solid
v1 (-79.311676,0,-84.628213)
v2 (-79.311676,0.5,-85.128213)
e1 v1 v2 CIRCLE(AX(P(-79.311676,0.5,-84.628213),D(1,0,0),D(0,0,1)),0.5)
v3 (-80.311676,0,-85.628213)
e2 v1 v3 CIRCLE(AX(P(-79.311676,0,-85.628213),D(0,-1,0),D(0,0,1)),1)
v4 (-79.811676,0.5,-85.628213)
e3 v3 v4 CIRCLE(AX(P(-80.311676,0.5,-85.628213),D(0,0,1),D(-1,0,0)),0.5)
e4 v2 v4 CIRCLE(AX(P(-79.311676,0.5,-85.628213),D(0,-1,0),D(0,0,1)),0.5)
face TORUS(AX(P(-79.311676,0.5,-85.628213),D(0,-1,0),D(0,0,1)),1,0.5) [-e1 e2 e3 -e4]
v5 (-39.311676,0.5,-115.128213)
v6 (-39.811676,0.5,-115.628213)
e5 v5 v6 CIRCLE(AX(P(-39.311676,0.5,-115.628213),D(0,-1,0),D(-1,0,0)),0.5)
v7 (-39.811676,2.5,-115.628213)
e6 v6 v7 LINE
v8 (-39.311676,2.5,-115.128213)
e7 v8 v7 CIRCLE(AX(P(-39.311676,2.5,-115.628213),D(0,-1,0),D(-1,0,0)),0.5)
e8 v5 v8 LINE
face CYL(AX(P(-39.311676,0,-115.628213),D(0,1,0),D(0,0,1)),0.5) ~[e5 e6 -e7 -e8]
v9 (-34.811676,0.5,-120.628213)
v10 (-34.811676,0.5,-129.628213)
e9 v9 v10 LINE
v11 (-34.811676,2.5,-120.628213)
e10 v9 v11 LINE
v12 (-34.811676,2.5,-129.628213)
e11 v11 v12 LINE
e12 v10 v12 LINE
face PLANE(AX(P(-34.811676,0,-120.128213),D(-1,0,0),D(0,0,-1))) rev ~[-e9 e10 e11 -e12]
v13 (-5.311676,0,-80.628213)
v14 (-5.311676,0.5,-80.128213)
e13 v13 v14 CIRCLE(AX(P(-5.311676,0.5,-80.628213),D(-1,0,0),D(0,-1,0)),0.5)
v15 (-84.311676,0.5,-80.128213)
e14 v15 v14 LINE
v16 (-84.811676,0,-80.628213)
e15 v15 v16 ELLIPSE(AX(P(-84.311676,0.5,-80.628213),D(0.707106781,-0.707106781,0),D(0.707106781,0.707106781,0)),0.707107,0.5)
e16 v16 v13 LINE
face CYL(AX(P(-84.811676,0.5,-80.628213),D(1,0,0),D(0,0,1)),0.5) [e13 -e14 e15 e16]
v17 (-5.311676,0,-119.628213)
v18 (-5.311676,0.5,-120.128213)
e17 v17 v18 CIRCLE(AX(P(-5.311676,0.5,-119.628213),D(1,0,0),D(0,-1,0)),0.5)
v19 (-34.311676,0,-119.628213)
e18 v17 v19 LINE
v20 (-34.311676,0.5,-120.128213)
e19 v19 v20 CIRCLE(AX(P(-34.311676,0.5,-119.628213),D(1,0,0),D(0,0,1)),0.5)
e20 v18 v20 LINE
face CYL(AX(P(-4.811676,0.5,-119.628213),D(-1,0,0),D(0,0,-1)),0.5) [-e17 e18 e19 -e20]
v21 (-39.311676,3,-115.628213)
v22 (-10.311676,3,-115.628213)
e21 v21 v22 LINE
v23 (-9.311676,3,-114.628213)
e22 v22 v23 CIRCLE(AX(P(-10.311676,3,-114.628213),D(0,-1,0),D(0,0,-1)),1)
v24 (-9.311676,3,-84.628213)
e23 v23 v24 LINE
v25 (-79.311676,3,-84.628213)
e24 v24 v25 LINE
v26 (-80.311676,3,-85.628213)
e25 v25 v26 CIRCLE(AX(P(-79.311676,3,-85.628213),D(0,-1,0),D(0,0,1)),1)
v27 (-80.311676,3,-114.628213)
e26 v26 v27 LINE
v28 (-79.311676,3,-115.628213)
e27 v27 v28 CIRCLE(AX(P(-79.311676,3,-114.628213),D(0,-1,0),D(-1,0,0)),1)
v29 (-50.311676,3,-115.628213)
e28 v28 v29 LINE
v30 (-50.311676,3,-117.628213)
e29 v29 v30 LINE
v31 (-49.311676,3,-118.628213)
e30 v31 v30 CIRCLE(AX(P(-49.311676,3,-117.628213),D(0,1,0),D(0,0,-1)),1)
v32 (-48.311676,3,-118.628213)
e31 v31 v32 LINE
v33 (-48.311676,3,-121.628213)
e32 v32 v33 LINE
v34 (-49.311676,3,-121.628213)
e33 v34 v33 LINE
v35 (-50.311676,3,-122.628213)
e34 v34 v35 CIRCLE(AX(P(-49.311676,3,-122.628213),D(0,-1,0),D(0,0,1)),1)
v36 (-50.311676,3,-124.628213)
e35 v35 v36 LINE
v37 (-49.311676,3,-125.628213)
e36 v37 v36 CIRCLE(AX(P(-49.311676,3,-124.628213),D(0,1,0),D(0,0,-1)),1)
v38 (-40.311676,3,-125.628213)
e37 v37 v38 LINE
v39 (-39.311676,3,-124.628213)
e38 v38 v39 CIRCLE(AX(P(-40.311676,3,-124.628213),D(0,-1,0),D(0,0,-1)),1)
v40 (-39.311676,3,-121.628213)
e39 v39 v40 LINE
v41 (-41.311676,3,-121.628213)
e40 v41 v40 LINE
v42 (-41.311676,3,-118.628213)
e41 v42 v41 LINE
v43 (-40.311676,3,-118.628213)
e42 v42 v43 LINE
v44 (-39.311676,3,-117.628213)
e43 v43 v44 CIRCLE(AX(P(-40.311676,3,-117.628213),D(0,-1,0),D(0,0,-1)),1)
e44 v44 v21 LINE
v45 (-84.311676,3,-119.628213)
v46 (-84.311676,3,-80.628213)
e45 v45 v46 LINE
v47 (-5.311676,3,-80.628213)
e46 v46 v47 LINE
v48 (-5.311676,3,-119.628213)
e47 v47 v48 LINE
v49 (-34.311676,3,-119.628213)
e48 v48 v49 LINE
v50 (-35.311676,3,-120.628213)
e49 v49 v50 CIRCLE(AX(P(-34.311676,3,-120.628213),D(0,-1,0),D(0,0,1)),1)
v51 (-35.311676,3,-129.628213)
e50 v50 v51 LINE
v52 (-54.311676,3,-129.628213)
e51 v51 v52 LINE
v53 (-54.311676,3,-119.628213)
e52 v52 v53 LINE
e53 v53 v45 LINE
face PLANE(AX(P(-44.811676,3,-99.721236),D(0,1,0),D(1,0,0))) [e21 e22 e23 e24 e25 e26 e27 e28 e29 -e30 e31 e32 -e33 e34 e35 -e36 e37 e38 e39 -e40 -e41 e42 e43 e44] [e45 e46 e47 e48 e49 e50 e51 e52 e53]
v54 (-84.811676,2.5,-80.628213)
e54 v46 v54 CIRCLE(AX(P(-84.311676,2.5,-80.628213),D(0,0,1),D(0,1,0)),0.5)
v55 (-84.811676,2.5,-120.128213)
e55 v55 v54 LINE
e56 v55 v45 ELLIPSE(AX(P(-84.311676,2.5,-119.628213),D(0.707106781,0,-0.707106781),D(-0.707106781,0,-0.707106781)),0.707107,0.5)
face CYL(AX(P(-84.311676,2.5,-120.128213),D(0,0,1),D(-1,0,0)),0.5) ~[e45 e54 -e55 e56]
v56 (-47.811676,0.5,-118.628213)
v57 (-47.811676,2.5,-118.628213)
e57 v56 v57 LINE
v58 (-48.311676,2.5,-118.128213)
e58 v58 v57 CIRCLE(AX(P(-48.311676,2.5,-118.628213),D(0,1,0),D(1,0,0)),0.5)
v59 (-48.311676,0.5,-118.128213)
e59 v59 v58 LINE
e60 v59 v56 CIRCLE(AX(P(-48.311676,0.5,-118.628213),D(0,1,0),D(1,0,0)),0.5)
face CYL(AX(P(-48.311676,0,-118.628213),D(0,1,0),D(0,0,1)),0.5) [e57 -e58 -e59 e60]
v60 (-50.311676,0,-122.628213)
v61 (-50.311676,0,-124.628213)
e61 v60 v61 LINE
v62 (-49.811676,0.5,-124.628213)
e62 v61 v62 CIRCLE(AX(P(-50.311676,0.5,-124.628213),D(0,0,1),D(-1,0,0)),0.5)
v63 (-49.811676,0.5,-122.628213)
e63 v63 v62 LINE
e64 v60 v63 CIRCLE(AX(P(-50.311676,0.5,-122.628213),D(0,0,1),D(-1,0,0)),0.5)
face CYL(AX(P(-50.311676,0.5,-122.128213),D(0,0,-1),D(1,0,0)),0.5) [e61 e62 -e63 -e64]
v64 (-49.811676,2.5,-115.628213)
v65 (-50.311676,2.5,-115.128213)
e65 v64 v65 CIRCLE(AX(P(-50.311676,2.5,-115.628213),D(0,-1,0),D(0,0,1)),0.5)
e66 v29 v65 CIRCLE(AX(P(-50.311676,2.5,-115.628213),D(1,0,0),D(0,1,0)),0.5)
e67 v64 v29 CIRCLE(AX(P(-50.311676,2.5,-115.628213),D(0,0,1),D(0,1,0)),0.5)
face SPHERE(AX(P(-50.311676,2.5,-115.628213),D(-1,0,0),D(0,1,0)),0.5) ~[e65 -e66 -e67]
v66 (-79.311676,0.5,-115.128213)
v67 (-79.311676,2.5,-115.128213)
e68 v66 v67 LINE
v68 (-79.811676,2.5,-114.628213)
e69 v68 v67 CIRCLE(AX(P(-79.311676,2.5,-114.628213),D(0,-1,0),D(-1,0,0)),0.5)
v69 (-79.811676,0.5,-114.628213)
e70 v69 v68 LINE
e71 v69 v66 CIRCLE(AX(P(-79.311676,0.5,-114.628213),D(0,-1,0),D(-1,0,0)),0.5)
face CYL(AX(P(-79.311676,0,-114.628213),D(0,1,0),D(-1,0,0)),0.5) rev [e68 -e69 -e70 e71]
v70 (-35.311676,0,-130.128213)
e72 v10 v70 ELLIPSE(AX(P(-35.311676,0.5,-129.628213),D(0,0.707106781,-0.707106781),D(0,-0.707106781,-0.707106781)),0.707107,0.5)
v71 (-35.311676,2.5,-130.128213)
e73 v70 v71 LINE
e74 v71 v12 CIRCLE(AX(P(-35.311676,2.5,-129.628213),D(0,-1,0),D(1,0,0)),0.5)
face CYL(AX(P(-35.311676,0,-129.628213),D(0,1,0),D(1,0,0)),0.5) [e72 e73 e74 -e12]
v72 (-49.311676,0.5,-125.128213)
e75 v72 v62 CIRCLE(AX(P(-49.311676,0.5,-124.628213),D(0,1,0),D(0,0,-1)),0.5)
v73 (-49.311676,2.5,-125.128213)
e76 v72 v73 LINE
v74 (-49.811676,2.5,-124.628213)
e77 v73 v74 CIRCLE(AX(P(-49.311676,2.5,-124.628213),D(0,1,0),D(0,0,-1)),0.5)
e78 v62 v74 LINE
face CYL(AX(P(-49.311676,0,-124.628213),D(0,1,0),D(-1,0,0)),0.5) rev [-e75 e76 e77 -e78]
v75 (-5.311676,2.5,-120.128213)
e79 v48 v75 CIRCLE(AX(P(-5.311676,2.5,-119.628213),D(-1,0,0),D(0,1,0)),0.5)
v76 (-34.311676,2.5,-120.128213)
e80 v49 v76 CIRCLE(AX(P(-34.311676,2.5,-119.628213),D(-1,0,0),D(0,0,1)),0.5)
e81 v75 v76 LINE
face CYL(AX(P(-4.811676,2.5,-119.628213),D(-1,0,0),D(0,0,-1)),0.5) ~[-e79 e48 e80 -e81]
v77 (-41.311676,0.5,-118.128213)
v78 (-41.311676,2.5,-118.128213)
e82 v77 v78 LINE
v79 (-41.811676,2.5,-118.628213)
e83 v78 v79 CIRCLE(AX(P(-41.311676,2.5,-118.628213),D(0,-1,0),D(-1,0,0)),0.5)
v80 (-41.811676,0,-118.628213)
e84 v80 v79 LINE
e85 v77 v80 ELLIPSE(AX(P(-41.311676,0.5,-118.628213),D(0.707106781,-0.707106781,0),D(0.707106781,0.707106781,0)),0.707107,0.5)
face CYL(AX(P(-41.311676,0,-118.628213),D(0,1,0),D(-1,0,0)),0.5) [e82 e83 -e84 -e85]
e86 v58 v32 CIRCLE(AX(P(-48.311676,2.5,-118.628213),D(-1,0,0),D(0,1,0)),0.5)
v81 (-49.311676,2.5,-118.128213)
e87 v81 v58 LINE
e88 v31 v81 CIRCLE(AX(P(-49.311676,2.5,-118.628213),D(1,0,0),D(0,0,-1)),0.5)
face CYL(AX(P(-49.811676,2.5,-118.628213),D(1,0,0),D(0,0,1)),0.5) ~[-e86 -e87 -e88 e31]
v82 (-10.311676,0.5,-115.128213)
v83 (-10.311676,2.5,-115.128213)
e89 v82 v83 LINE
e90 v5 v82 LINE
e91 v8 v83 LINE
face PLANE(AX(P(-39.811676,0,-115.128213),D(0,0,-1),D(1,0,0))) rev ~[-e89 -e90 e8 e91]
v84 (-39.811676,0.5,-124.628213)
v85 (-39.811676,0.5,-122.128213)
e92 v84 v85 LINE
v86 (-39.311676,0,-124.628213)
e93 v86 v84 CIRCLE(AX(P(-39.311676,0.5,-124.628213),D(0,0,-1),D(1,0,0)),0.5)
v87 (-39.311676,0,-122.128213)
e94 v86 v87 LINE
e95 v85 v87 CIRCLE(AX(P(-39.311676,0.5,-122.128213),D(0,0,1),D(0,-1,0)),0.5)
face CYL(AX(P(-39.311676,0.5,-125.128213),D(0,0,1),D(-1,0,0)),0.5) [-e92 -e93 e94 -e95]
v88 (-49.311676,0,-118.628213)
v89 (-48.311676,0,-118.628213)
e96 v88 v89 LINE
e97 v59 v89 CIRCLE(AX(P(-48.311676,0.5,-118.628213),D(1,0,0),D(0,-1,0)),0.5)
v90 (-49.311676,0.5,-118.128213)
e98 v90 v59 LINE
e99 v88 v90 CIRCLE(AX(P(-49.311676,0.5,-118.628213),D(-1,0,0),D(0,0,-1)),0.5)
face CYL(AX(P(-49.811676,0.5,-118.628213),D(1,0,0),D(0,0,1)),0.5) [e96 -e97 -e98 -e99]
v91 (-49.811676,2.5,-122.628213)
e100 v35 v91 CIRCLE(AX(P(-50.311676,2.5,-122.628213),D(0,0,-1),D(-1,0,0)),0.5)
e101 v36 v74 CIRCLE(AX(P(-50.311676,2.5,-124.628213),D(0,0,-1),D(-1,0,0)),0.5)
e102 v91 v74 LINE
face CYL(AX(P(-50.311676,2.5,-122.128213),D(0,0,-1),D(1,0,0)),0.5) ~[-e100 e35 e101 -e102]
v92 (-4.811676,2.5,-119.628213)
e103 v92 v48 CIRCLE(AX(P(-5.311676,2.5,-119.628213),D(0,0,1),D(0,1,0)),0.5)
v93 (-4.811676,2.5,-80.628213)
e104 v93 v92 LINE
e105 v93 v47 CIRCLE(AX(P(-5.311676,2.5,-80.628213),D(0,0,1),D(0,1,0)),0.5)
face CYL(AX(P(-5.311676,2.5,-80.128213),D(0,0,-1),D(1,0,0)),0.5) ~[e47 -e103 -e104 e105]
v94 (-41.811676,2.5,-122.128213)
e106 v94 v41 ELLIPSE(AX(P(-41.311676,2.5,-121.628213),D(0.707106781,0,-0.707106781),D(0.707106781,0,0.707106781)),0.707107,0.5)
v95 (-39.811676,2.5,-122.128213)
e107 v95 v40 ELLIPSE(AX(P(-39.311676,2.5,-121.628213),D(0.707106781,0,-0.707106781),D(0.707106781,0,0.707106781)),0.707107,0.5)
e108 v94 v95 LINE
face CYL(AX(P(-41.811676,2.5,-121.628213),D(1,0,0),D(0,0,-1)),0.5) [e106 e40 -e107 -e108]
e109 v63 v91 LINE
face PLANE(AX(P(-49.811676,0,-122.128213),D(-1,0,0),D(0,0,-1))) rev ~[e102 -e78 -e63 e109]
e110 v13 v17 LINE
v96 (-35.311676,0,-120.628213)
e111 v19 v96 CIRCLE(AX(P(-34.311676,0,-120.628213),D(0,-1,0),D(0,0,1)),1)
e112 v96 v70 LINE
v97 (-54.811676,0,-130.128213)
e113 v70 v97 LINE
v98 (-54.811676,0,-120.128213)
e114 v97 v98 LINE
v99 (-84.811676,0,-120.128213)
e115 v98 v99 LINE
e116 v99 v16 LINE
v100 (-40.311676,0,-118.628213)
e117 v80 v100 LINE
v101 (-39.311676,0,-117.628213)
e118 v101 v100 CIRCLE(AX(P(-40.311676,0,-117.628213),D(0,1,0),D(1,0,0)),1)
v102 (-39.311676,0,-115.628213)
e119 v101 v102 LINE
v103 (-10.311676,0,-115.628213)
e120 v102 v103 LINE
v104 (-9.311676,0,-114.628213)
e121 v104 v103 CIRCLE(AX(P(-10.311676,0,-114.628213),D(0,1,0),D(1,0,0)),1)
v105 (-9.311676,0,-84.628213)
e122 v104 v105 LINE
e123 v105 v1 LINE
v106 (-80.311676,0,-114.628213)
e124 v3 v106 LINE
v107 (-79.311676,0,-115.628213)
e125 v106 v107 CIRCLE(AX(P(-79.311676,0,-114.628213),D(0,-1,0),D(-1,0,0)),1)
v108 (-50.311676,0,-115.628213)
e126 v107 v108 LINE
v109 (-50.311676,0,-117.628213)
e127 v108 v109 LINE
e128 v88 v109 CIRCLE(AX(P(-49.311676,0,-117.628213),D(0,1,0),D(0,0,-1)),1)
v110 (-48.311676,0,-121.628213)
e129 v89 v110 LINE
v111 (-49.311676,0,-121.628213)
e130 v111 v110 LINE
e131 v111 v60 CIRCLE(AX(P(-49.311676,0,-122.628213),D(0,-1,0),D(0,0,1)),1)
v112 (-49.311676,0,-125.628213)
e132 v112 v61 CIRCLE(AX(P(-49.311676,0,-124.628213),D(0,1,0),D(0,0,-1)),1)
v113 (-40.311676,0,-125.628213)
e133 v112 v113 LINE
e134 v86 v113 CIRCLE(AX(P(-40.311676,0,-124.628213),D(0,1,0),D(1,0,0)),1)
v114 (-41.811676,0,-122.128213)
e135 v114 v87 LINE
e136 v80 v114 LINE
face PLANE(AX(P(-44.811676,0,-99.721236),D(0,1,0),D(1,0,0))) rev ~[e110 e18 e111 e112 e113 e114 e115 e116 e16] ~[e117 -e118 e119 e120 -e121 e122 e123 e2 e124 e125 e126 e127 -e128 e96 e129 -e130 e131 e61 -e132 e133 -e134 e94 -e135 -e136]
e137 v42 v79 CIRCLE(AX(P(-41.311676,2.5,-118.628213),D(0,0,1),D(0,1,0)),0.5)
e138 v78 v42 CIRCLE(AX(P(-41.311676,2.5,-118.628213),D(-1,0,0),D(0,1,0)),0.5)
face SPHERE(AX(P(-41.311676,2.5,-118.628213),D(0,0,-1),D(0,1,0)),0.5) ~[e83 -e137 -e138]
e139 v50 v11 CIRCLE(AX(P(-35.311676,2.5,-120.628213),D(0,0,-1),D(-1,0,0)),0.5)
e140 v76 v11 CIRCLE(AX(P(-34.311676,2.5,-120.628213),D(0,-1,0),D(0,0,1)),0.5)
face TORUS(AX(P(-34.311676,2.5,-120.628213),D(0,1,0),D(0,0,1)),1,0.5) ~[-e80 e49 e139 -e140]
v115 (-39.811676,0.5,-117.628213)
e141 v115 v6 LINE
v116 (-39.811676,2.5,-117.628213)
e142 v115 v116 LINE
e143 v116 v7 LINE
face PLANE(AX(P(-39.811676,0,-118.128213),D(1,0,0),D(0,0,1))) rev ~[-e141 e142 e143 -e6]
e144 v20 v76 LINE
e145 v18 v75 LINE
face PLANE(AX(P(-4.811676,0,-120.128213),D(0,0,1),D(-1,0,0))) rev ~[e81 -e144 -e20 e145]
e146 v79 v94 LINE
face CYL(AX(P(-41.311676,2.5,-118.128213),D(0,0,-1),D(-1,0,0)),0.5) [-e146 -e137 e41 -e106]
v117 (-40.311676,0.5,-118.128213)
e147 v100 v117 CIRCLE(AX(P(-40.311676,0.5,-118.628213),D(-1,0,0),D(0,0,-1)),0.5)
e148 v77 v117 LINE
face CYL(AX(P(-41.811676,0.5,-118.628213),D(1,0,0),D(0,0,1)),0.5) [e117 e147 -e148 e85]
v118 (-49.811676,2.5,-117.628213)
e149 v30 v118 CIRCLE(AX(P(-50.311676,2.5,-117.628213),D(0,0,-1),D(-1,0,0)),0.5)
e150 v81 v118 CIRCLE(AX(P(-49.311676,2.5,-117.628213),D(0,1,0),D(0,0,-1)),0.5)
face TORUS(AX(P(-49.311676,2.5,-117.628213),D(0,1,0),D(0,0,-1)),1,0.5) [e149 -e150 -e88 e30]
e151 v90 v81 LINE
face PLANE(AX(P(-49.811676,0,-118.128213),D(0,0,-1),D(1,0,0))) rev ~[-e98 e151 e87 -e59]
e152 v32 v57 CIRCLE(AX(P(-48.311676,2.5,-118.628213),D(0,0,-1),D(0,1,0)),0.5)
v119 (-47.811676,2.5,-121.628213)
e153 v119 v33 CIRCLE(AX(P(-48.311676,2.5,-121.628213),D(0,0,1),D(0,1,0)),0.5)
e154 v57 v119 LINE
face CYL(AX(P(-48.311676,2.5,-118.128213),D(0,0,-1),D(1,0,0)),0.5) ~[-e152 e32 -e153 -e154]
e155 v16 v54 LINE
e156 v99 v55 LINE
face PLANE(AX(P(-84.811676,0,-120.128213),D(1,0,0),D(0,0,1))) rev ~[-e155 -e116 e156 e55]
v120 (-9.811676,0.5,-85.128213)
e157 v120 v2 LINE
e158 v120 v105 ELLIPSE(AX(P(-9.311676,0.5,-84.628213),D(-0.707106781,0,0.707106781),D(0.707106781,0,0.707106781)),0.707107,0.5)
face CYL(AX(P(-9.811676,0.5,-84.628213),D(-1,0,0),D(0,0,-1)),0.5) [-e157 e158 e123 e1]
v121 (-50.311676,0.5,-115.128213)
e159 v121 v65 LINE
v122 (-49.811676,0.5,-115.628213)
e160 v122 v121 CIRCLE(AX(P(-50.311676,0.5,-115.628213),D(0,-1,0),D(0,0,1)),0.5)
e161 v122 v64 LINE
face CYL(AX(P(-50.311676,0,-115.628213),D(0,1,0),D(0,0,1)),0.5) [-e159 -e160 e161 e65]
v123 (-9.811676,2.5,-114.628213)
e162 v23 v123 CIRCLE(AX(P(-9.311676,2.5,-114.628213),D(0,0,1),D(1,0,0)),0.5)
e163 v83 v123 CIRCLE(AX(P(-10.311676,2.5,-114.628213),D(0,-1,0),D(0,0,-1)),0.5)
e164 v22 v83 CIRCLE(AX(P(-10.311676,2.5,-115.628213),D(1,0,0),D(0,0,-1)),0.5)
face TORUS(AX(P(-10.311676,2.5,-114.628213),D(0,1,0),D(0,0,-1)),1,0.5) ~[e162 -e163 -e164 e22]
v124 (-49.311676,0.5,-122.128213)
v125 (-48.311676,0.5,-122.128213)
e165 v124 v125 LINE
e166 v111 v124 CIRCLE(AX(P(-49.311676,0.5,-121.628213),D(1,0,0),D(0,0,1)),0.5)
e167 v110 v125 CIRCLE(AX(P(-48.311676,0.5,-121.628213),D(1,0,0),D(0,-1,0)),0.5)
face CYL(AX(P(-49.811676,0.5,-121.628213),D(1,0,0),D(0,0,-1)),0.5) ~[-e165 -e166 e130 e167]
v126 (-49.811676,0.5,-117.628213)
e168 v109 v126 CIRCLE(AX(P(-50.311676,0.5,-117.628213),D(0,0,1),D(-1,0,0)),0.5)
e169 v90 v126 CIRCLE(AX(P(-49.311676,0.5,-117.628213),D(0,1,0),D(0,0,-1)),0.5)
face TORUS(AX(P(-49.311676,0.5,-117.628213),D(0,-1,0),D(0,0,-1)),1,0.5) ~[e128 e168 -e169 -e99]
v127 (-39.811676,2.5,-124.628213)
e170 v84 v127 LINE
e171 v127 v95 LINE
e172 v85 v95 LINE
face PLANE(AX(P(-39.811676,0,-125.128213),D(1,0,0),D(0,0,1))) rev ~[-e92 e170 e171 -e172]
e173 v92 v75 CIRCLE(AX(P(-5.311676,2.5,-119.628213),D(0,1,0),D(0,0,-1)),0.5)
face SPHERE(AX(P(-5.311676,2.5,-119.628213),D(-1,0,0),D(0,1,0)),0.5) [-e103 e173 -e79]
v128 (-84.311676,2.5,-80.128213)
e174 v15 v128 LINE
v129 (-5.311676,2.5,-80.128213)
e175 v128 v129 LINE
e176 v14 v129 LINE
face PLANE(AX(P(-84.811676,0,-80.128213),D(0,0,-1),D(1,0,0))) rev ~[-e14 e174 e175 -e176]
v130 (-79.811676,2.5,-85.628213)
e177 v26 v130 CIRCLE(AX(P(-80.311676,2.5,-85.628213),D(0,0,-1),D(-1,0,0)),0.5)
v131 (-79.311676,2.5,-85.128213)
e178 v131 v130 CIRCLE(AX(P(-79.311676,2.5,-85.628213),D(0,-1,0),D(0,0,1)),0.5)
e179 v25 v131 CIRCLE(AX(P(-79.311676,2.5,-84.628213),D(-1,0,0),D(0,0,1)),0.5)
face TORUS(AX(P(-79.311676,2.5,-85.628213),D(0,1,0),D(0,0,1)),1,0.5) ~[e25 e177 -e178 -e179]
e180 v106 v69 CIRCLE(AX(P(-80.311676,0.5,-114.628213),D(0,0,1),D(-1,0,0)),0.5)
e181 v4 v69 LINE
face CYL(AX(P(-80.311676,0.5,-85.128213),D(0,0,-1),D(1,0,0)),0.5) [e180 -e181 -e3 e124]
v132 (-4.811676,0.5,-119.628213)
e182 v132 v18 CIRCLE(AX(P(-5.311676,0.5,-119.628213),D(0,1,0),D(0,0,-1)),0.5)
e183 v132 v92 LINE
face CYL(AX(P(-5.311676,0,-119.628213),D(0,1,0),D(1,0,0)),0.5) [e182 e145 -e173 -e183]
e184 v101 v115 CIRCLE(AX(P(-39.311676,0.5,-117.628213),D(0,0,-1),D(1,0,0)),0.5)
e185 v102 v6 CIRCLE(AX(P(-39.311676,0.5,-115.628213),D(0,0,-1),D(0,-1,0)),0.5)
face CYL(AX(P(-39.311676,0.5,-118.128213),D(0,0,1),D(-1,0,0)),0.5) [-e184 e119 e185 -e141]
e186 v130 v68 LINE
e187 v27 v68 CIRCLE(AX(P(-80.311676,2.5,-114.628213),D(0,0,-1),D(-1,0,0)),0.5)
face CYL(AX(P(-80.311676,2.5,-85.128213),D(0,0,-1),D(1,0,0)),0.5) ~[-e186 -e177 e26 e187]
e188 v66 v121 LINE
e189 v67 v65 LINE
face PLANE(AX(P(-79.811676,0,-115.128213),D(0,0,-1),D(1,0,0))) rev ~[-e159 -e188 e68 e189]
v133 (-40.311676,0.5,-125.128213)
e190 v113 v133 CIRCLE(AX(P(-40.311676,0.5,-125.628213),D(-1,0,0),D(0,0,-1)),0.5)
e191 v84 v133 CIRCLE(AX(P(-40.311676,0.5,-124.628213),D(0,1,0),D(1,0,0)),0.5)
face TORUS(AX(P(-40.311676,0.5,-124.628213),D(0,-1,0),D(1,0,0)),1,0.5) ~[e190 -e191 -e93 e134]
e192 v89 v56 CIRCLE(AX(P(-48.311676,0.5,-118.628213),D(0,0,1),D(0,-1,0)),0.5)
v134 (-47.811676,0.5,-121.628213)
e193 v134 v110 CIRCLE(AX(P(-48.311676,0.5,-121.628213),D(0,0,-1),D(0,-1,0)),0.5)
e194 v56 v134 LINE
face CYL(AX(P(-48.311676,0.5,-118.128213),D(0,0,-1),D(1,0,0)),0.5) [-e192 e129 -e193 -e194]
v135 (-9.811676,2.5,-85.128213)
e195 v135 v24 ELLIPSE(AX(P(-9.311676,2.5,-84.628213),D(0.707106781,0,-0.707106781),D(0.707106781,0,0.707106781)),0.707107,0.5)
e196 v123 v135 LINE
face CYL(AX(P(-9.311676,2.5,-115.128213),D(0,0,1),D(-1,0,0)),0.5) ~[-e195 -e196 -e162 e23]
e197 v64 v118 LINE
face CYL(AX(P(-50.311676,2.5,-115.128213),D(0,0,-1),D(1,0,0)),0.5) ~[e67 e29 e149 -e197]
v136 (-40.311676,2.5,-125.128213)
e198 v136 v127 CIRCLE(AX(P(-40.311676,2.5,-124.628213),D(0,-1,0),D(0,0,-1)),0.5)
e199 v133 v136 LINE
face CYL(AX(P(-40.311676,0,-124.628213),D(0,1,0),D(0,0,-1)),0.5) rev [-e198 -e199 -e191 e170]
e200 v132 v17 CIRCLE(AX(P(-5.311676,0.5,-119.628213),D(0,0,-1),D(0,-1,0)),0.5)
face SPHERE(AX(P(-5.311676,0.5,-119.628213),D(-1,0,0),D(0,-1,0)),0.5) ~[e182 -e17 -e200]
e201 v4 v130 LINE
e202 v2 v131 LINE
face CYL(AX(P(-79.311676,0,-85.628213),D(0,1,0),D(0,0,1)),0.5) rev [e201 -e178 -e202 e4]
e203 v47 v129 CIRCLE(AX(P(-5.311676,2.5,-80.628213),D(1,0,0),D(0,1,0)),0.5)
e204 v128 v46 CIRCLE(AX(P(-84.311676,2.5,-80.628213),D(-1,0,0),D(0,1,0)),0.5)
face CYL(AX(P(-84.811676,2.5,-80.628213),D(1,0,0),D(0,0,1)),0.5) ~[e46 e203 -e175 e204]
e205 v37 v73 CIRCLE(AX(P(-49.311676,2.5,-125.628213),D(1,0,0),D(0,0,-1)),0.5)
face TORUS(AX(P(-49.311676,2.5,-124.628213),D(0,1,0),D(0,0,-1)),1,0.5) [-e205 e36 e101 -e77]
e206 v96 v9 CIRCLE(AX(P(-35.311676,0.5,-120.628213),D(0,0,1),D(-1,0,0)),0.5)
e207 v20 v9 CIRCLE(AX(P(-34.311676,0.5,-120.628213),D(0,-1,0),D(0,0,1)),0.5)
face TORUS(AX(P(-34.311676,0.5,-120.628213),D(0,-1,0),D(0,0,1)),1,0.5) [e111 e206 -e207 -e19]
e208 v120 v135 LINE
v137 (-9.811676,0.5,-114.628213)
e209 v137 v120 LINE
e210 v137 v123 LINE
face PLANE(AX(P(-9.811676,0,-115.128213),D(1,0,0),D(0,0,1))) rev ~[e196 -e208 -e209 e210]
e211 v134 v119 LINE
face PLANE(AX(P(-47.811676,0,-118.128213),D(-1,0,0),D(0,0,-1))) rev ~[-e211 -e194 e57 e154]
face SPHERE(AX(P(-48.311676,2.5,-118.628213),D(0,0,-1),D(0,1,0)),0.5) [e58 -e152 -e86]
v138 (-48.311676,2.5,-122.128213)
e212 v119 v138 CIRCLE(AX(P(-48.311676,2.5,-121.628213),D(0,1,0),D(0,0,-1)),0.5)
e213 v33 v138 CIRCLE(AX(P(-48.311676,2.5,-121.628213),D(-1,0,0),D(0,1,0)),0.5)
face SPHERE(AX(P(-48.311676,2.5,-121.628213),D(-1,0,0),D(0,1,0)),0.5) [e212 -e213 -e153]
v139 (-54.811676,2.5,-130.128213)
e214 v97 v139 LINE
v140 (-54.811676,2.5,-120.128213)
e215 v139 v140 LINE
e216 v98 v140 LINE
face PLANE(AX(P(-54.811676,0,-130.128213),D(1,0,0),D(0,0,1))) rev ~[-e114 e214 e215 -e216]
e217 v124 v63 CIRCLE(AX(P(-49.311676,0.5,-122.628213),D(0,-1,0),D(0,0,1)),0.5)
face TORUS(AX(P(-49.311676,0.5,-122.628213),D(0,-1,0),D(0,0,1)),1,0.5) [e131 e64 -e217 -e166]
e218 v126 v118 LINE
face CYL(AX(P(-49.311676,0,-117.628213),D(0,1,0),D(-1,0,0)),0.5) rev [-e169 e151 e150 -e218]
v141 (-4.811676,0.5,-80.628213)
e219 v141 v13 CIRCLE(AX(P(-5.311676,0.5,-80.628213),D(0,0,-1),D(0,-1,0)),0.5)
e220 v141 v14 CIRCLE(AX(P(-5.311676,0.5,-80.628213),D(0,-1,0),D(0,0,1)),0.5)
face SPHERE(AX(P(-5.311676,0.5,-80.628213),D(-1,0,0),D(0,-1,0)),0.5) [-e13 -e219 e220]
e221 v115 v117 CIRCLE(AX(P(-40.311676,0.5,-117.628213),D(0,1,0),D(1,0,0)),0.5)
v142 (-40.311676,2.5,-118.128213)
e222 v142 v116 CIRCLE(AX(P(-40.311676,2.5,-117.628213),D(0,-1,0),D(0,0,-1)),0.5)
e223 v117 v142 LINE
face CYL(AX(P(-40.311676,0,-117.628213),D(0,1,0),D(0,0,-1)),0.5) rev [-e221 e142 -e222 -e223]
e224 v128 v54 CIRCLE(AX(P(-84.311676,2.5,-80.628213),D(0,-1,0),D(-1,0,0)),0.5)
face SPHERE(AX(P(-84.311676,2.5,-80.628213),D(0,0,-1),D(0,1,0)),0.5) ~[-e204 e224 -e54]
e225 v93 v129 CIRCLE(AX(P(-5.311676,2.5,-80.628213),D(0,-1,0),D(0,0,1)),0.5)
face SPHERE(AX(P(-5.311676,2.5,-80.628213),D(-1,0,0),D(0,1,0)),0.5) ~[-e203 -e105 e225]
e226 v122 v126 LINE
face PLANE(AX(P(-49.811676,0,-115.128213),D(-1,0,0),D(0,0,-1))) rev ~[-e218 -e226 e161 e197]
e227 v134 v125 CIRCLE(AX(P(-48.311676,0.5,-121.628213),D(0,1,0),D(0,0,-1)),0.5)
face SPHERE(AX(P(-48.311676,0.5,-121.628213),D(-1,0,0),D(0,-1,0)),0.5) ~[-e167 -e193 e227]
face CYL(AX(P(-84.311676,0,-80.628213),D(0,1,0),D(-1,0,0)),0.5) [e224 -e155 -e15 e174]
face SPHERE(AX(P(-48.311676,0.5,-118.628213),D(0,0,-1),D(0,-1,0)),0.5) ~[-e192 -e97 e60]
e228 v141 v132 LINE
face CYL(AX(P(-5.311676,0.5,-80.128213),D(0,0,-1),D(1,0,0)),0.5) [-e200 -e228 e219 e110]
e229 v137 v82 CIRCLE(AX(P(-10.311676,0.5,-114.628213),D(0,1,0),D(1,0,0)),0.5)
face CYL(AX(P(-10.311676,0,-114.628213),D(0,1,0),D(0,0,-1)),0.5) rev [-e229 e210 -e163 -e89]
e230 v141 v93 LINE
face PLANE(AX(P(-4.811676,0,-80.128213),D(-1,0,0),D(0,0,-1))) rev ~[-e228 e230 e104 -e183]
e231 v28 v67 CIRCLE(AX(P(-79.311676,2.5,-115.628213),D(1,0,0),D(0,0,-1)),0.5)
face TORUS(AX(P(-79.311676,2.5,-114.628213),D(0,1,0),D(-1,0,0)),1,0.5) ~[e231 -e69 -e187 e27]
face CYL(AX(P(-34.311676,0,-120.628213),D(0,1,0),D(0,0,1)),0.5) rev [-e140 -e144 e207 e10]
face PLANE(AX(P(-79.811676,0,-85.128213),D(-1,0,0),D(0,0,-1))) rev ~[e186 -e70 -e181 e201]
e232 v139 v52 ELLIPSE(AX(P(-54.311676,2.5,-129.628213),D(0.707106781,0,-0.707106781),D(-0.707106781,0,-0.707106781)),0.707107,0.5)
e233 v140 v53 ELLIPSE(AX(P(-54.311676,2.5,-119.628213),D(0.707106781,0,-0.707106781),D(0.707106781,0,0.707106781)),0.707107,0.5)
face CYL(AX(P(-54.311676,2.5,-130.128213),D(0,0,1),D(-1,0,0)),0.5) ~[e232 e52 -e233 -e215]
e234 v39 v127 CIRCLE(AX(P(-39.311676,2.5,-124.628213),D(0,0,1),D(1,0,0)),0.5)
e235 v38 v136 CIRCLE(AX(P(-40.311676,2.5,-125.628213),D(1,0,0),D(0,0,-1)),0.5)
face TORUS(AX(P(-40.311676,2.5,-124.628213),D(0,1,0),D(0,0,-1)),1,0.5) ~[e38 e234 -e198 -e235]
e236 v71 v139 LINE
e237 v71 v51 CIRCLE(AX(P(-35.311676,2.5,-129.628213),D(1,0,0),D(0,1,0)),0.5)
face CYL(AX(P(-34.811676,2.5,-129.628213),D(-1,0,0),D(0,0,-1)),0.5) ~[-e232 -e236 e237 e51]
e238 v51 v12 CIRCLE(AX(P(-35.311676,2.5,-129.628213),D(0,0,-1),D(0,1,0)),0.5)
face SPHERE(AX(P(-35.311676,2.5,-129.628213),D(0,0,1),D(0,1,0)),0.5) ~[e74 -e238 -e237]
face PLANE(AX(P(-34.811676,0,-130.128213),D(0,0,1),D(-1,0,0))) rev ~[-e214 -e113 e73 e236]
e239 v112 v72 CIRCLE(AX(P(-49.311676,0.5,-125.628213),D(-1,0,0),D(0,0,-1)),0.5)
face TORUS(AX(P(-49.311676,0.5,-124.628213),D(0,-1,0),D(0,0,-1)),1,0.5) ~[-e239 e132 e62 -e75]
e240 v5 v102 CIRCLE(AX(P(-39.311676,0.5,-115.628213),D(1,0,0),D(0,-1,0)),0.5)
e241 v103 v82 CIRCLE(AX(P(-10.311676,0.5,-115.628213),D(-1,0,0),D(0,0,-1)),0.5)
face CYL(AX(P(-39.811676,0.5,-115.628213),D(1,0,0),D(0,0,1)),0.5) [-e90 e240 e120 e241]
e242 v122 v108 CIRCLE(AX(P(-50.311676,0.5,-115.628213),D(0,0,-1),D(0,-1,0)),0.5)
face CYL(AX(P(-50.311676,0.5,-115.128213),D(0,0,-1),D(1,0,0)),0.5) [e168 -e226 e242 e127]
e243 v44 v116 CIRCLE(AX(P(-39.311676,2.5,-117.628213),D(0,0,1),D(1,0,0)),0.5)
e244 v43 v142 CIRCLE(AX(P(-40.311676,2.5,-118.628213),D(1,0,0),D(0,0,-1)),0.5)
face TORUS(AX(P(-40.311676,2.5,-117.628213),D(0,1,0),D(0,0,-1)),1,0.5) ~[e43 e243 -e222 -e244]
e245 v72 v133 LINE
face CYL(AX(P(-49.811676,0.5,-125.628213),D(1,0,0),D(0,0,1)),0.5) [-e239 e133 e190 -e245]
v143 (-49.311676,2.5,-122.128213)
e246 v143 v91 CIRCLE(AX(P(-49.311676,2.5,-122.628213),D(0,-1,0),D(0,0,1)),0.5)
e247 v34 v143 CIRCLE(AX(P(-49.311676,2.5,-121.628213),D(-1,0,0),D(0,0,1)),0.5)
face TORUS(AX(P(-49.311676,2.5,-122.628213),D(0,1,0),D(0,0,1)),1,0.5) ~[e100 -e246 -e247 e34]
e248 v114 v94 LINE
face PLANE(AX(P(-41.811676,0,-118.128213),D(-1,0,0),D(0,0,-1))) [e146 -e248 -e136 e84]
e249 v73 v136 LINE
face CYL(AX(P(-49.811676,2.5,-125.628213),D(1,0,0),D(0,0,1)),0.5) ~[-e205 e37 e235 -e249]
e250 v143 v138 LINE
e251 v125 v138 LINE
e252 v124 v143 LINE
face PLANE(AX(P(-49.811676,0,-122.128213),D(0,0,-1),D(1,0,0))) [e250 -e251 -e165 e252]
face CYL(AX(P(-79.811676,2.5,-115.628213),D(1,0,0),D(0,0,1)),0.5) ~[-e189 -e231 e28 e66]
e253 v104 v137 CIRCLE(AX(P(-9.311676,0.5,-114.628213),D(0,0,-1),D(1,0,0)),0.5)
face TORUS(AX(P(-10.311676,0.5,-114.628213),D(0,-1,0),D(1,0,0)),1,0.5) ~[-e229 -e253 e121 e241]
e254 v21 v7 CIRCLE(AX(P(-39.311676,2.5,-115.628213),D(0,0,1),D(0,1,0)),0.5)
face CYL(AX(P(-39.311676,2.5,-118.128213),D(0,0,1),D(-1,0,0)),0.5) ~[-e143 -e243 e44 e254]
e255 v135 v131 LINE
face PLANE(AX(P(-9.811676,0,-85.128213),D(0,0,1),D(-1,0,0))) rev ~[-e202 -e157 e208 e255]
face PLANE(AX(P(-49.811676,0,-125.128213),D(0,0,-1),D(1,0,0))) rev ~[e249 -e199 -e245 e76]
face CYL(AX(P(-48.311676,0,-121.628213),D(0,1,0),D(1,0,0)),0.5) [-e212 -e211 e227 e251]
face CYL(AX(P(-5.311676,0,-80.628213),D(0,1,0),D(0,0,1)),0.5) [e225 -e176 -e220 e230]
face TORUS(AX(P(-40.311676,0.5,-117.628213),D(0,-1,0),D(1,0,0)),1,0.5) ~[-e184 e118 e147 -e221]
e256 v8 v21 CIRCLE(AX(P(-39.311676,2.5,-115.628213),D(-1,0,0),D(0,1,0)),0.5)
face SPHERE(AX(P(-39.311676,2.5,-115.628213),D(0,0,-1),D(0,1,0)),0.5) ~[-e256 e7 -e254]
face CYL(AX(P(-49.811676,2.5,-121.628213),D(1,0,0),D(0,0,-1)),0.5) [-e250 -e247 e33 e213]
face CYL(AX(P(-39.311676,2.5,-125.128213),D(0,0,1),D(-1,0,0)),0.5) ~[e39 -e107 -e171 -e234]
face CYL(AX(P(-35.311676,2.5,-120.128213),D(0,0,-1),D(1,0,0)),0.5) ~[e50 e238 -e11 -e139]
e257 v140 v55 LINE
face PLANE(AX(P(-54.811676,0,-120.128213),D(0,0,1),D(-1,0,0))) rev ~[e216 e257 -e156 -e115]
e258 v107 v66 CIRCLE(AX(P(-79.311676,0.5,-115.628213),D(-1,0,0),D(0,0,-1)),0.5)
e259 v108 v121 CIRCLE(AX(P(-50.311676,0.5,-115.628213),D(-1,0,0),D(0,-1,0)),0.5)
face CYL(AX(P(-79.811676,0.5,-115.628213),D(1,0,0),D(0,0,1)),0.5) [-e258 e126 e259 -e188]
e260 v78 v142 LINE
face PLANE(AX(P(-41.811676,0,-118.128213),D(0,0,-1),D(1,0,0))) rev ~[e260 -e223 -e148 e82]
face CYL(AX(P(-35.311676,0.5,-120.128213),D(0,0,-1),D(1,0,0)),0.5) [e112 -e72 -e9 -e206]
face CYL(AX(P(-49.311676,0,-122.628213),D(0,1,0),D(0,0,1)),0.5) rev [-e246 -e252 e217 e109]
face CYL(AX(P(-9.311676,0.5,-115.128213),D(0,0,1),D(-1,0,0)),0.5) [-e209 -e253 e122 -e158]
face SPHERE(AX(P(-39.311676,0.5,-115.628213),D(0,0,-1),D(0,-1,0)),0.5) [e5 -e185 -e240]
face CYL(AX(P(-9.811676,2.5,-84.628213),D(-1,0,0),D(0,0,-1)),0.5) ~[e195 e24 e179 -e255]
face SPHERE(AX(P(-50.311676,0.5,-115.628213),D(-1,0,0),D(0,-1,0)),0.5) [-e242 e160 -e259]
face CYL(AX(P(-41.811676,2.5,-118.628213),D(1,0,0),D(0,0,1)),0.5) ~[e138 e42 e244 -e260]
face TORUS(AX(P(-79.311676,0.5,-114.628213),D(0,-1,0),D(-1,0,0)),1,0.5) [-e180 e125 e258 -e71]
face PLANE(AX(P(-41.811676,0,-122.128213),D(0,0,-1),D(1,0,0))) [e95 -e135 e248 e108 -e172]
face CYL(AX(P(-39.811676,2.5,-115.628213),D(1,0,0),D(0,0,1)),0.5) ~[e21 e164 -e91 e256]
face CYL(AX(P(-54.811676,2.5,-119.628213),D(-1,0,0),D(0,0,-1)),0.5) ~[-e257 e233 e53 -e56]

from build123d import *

# Parameters (mm, degrees)
SKETCH1_W           = 2
SKETCH1_H           = 4
BOSS_EXTRUDE1_DEPTH = 3
FILLET1_R           = 0.5


with BuildPart() as part:
    # Sketch1 → Boss-Extrude1 (new body)
    with BuildSketch(Plane(origin=(0, 0, 0), x_dir=(1, 0, 0), z_dir=(0, 1, 0))):
        Polygon((-54.811676083, 120.128212813), (-84.811676083, 120.128212813), (-84.811676083, 80.128212813), (-4.811676083, 80.128212813), (-4.811676083, 120.128212813), (-34.811676083, 120.128212813), (-39.811676083, 120.128212813), (-39.811676083, 118.128212813), (-39.811676083, 115.128212813), (-9.811676083, 115.128212813), (-9.811676083, 85.128212813), (-79.811676083, 85.128212813), (-79.811676083, 115.128212813), (-49.811676083, 115.128212813), (-49.811676083, 118.128212813), (-49.811676083, 120.128212813), align=None)
        Polygon((-54.811676083, 130.128212813), (-54.811676083, 120.128212813), (-49.811676083, 120.128212813), (-49.811676083, 122.128212813), (-49.811676083, 125.128212813), (-39.811676083, 125.128212813), (-39.811676083, 122.128212813), (-39.811676083, 120.128212813), (-34.811676083, 120.128212813), (-34.811676083, 130.128212813), align=None)
        with Locations((-48.811676083, 120.128212813)):
            Rectangle(SKETCH1_W, SKETCH1_H)
        with Locations((-40.811676083, 120.128212813)):
            Rectangle(SKETCH1_W, SKETCH1_H)
    extrude(amount=BOSS_EXTRUDE1_DEPTH)

    # Fillet1
    fillet1_edges = [part.edges().sort_by_distance(p)[0] for p in [
        (-39.811676083, 0, -116.628212813),
        (-19.811676083, 0, -120.128212813),
        (-39.811676083, 0, -123.628212813),
        (-9.811676083, 0, -100.128212813),
        (-44.811676083, 0, -85.128212813),
        (-48.811676083, 0, -122.128212813),
        (-40.811676083, 0, -118.128212813),
        (-40.811676083, 3, -122.128212813),
        (-41.811676083, 3, -120.128212813),
        (-40.811676083, 3, -118.128212813),
        (-41.811676083, 1.5, -118.128212813),
        (-47.811676083, 0, -120.128212813),
        (-48.811676083, 0, -118.128212813),
        (-48.811676083, 3, -122.128212813),
        (-47.811676083, 3, -120.128212813),
        (-48.811676083, 3, -118.128212813),
        (-47.811676083, 1.5, -122.128212813),
        (-47.811676083, 1.5, -118.128212813),
        (-34.811676083, 0, -125.128212813),
        (-44.811676083, 0, -80.128212813),
        (-4.811676083, 0, -100.128212813),
        (-44.811676083, 0, -125.128212813),
        (-24.811676083, 0, -115.128212813),
        (-79.811676083, 0, -100.128212813),
        (-64.811676083, 0, -115.128212813),
        (-49.811676083, 0, -116.628212813),
        (-49.811676083, 0, -123.628212813),
        (-19.811676083, 3, -120.128212813),
        (-34.811676083, 3, -125.128212813),
        (-44.811676083, 3, -130.128212813),
        (-54.811676083, 3, -125.128212813),
        (-69.811676083, 3, -120.128212813),
        (-84.811676083, 3, -100.128212813),
        (-44.811676083, 3, -80.128212813),
        (-4.811676083, 3, -100.128212813),
        (-44.811676083, 3, -125.128212813),
        (-39.811676083, 3, -116.628212813),
        (-39.811676083, 3, -123.628212813),
        (-24.811676083, 3, -115.128212813),
        (-9.811676083, 3, -100.128212813),
        (-44.811676083, 3, -85.128212813),
        (-79.811676083, 3, -100.128212813),
        (-64.811676083, 3, -115.128212813),
        (-49.811676083, 3, -116.628212813),
        (-49.811676083, 3, -123.628212813),
        (-4.811676083, 1.5, -120.128212813),
        (-4.811676083, 1.5, -80.128212813),
        (-84.811676083, 1.5, -80.128212813),
        (-34.811676083, 1.5, -130.128212813),
        (-34.811676083, 1.5, -120.128212813),
        (-49.811676083, 1.5, -125.128212813),
        (-49.811676083, 1.5, -115.128212813),
        (-79.811676083, 1.5, -115.128212813),
        (-79.811676083, 1.5, -85.128212813),
        (-9.811676083, 1.5, -115.128212813),
        (-39.811676083, 1.5, -115.128212813),
        (-39.811676083, 1.5, -125.128212813),
        (-49.811676083, 1.5, -122.128212813),
        (-49.811676083, 1.5, -118.128212813),
        (-39.811676083, 1.5, -118.128212813),
    ]]
    fillet(fillet1_edges, radius=FILLET1_R)


solid = part.part
